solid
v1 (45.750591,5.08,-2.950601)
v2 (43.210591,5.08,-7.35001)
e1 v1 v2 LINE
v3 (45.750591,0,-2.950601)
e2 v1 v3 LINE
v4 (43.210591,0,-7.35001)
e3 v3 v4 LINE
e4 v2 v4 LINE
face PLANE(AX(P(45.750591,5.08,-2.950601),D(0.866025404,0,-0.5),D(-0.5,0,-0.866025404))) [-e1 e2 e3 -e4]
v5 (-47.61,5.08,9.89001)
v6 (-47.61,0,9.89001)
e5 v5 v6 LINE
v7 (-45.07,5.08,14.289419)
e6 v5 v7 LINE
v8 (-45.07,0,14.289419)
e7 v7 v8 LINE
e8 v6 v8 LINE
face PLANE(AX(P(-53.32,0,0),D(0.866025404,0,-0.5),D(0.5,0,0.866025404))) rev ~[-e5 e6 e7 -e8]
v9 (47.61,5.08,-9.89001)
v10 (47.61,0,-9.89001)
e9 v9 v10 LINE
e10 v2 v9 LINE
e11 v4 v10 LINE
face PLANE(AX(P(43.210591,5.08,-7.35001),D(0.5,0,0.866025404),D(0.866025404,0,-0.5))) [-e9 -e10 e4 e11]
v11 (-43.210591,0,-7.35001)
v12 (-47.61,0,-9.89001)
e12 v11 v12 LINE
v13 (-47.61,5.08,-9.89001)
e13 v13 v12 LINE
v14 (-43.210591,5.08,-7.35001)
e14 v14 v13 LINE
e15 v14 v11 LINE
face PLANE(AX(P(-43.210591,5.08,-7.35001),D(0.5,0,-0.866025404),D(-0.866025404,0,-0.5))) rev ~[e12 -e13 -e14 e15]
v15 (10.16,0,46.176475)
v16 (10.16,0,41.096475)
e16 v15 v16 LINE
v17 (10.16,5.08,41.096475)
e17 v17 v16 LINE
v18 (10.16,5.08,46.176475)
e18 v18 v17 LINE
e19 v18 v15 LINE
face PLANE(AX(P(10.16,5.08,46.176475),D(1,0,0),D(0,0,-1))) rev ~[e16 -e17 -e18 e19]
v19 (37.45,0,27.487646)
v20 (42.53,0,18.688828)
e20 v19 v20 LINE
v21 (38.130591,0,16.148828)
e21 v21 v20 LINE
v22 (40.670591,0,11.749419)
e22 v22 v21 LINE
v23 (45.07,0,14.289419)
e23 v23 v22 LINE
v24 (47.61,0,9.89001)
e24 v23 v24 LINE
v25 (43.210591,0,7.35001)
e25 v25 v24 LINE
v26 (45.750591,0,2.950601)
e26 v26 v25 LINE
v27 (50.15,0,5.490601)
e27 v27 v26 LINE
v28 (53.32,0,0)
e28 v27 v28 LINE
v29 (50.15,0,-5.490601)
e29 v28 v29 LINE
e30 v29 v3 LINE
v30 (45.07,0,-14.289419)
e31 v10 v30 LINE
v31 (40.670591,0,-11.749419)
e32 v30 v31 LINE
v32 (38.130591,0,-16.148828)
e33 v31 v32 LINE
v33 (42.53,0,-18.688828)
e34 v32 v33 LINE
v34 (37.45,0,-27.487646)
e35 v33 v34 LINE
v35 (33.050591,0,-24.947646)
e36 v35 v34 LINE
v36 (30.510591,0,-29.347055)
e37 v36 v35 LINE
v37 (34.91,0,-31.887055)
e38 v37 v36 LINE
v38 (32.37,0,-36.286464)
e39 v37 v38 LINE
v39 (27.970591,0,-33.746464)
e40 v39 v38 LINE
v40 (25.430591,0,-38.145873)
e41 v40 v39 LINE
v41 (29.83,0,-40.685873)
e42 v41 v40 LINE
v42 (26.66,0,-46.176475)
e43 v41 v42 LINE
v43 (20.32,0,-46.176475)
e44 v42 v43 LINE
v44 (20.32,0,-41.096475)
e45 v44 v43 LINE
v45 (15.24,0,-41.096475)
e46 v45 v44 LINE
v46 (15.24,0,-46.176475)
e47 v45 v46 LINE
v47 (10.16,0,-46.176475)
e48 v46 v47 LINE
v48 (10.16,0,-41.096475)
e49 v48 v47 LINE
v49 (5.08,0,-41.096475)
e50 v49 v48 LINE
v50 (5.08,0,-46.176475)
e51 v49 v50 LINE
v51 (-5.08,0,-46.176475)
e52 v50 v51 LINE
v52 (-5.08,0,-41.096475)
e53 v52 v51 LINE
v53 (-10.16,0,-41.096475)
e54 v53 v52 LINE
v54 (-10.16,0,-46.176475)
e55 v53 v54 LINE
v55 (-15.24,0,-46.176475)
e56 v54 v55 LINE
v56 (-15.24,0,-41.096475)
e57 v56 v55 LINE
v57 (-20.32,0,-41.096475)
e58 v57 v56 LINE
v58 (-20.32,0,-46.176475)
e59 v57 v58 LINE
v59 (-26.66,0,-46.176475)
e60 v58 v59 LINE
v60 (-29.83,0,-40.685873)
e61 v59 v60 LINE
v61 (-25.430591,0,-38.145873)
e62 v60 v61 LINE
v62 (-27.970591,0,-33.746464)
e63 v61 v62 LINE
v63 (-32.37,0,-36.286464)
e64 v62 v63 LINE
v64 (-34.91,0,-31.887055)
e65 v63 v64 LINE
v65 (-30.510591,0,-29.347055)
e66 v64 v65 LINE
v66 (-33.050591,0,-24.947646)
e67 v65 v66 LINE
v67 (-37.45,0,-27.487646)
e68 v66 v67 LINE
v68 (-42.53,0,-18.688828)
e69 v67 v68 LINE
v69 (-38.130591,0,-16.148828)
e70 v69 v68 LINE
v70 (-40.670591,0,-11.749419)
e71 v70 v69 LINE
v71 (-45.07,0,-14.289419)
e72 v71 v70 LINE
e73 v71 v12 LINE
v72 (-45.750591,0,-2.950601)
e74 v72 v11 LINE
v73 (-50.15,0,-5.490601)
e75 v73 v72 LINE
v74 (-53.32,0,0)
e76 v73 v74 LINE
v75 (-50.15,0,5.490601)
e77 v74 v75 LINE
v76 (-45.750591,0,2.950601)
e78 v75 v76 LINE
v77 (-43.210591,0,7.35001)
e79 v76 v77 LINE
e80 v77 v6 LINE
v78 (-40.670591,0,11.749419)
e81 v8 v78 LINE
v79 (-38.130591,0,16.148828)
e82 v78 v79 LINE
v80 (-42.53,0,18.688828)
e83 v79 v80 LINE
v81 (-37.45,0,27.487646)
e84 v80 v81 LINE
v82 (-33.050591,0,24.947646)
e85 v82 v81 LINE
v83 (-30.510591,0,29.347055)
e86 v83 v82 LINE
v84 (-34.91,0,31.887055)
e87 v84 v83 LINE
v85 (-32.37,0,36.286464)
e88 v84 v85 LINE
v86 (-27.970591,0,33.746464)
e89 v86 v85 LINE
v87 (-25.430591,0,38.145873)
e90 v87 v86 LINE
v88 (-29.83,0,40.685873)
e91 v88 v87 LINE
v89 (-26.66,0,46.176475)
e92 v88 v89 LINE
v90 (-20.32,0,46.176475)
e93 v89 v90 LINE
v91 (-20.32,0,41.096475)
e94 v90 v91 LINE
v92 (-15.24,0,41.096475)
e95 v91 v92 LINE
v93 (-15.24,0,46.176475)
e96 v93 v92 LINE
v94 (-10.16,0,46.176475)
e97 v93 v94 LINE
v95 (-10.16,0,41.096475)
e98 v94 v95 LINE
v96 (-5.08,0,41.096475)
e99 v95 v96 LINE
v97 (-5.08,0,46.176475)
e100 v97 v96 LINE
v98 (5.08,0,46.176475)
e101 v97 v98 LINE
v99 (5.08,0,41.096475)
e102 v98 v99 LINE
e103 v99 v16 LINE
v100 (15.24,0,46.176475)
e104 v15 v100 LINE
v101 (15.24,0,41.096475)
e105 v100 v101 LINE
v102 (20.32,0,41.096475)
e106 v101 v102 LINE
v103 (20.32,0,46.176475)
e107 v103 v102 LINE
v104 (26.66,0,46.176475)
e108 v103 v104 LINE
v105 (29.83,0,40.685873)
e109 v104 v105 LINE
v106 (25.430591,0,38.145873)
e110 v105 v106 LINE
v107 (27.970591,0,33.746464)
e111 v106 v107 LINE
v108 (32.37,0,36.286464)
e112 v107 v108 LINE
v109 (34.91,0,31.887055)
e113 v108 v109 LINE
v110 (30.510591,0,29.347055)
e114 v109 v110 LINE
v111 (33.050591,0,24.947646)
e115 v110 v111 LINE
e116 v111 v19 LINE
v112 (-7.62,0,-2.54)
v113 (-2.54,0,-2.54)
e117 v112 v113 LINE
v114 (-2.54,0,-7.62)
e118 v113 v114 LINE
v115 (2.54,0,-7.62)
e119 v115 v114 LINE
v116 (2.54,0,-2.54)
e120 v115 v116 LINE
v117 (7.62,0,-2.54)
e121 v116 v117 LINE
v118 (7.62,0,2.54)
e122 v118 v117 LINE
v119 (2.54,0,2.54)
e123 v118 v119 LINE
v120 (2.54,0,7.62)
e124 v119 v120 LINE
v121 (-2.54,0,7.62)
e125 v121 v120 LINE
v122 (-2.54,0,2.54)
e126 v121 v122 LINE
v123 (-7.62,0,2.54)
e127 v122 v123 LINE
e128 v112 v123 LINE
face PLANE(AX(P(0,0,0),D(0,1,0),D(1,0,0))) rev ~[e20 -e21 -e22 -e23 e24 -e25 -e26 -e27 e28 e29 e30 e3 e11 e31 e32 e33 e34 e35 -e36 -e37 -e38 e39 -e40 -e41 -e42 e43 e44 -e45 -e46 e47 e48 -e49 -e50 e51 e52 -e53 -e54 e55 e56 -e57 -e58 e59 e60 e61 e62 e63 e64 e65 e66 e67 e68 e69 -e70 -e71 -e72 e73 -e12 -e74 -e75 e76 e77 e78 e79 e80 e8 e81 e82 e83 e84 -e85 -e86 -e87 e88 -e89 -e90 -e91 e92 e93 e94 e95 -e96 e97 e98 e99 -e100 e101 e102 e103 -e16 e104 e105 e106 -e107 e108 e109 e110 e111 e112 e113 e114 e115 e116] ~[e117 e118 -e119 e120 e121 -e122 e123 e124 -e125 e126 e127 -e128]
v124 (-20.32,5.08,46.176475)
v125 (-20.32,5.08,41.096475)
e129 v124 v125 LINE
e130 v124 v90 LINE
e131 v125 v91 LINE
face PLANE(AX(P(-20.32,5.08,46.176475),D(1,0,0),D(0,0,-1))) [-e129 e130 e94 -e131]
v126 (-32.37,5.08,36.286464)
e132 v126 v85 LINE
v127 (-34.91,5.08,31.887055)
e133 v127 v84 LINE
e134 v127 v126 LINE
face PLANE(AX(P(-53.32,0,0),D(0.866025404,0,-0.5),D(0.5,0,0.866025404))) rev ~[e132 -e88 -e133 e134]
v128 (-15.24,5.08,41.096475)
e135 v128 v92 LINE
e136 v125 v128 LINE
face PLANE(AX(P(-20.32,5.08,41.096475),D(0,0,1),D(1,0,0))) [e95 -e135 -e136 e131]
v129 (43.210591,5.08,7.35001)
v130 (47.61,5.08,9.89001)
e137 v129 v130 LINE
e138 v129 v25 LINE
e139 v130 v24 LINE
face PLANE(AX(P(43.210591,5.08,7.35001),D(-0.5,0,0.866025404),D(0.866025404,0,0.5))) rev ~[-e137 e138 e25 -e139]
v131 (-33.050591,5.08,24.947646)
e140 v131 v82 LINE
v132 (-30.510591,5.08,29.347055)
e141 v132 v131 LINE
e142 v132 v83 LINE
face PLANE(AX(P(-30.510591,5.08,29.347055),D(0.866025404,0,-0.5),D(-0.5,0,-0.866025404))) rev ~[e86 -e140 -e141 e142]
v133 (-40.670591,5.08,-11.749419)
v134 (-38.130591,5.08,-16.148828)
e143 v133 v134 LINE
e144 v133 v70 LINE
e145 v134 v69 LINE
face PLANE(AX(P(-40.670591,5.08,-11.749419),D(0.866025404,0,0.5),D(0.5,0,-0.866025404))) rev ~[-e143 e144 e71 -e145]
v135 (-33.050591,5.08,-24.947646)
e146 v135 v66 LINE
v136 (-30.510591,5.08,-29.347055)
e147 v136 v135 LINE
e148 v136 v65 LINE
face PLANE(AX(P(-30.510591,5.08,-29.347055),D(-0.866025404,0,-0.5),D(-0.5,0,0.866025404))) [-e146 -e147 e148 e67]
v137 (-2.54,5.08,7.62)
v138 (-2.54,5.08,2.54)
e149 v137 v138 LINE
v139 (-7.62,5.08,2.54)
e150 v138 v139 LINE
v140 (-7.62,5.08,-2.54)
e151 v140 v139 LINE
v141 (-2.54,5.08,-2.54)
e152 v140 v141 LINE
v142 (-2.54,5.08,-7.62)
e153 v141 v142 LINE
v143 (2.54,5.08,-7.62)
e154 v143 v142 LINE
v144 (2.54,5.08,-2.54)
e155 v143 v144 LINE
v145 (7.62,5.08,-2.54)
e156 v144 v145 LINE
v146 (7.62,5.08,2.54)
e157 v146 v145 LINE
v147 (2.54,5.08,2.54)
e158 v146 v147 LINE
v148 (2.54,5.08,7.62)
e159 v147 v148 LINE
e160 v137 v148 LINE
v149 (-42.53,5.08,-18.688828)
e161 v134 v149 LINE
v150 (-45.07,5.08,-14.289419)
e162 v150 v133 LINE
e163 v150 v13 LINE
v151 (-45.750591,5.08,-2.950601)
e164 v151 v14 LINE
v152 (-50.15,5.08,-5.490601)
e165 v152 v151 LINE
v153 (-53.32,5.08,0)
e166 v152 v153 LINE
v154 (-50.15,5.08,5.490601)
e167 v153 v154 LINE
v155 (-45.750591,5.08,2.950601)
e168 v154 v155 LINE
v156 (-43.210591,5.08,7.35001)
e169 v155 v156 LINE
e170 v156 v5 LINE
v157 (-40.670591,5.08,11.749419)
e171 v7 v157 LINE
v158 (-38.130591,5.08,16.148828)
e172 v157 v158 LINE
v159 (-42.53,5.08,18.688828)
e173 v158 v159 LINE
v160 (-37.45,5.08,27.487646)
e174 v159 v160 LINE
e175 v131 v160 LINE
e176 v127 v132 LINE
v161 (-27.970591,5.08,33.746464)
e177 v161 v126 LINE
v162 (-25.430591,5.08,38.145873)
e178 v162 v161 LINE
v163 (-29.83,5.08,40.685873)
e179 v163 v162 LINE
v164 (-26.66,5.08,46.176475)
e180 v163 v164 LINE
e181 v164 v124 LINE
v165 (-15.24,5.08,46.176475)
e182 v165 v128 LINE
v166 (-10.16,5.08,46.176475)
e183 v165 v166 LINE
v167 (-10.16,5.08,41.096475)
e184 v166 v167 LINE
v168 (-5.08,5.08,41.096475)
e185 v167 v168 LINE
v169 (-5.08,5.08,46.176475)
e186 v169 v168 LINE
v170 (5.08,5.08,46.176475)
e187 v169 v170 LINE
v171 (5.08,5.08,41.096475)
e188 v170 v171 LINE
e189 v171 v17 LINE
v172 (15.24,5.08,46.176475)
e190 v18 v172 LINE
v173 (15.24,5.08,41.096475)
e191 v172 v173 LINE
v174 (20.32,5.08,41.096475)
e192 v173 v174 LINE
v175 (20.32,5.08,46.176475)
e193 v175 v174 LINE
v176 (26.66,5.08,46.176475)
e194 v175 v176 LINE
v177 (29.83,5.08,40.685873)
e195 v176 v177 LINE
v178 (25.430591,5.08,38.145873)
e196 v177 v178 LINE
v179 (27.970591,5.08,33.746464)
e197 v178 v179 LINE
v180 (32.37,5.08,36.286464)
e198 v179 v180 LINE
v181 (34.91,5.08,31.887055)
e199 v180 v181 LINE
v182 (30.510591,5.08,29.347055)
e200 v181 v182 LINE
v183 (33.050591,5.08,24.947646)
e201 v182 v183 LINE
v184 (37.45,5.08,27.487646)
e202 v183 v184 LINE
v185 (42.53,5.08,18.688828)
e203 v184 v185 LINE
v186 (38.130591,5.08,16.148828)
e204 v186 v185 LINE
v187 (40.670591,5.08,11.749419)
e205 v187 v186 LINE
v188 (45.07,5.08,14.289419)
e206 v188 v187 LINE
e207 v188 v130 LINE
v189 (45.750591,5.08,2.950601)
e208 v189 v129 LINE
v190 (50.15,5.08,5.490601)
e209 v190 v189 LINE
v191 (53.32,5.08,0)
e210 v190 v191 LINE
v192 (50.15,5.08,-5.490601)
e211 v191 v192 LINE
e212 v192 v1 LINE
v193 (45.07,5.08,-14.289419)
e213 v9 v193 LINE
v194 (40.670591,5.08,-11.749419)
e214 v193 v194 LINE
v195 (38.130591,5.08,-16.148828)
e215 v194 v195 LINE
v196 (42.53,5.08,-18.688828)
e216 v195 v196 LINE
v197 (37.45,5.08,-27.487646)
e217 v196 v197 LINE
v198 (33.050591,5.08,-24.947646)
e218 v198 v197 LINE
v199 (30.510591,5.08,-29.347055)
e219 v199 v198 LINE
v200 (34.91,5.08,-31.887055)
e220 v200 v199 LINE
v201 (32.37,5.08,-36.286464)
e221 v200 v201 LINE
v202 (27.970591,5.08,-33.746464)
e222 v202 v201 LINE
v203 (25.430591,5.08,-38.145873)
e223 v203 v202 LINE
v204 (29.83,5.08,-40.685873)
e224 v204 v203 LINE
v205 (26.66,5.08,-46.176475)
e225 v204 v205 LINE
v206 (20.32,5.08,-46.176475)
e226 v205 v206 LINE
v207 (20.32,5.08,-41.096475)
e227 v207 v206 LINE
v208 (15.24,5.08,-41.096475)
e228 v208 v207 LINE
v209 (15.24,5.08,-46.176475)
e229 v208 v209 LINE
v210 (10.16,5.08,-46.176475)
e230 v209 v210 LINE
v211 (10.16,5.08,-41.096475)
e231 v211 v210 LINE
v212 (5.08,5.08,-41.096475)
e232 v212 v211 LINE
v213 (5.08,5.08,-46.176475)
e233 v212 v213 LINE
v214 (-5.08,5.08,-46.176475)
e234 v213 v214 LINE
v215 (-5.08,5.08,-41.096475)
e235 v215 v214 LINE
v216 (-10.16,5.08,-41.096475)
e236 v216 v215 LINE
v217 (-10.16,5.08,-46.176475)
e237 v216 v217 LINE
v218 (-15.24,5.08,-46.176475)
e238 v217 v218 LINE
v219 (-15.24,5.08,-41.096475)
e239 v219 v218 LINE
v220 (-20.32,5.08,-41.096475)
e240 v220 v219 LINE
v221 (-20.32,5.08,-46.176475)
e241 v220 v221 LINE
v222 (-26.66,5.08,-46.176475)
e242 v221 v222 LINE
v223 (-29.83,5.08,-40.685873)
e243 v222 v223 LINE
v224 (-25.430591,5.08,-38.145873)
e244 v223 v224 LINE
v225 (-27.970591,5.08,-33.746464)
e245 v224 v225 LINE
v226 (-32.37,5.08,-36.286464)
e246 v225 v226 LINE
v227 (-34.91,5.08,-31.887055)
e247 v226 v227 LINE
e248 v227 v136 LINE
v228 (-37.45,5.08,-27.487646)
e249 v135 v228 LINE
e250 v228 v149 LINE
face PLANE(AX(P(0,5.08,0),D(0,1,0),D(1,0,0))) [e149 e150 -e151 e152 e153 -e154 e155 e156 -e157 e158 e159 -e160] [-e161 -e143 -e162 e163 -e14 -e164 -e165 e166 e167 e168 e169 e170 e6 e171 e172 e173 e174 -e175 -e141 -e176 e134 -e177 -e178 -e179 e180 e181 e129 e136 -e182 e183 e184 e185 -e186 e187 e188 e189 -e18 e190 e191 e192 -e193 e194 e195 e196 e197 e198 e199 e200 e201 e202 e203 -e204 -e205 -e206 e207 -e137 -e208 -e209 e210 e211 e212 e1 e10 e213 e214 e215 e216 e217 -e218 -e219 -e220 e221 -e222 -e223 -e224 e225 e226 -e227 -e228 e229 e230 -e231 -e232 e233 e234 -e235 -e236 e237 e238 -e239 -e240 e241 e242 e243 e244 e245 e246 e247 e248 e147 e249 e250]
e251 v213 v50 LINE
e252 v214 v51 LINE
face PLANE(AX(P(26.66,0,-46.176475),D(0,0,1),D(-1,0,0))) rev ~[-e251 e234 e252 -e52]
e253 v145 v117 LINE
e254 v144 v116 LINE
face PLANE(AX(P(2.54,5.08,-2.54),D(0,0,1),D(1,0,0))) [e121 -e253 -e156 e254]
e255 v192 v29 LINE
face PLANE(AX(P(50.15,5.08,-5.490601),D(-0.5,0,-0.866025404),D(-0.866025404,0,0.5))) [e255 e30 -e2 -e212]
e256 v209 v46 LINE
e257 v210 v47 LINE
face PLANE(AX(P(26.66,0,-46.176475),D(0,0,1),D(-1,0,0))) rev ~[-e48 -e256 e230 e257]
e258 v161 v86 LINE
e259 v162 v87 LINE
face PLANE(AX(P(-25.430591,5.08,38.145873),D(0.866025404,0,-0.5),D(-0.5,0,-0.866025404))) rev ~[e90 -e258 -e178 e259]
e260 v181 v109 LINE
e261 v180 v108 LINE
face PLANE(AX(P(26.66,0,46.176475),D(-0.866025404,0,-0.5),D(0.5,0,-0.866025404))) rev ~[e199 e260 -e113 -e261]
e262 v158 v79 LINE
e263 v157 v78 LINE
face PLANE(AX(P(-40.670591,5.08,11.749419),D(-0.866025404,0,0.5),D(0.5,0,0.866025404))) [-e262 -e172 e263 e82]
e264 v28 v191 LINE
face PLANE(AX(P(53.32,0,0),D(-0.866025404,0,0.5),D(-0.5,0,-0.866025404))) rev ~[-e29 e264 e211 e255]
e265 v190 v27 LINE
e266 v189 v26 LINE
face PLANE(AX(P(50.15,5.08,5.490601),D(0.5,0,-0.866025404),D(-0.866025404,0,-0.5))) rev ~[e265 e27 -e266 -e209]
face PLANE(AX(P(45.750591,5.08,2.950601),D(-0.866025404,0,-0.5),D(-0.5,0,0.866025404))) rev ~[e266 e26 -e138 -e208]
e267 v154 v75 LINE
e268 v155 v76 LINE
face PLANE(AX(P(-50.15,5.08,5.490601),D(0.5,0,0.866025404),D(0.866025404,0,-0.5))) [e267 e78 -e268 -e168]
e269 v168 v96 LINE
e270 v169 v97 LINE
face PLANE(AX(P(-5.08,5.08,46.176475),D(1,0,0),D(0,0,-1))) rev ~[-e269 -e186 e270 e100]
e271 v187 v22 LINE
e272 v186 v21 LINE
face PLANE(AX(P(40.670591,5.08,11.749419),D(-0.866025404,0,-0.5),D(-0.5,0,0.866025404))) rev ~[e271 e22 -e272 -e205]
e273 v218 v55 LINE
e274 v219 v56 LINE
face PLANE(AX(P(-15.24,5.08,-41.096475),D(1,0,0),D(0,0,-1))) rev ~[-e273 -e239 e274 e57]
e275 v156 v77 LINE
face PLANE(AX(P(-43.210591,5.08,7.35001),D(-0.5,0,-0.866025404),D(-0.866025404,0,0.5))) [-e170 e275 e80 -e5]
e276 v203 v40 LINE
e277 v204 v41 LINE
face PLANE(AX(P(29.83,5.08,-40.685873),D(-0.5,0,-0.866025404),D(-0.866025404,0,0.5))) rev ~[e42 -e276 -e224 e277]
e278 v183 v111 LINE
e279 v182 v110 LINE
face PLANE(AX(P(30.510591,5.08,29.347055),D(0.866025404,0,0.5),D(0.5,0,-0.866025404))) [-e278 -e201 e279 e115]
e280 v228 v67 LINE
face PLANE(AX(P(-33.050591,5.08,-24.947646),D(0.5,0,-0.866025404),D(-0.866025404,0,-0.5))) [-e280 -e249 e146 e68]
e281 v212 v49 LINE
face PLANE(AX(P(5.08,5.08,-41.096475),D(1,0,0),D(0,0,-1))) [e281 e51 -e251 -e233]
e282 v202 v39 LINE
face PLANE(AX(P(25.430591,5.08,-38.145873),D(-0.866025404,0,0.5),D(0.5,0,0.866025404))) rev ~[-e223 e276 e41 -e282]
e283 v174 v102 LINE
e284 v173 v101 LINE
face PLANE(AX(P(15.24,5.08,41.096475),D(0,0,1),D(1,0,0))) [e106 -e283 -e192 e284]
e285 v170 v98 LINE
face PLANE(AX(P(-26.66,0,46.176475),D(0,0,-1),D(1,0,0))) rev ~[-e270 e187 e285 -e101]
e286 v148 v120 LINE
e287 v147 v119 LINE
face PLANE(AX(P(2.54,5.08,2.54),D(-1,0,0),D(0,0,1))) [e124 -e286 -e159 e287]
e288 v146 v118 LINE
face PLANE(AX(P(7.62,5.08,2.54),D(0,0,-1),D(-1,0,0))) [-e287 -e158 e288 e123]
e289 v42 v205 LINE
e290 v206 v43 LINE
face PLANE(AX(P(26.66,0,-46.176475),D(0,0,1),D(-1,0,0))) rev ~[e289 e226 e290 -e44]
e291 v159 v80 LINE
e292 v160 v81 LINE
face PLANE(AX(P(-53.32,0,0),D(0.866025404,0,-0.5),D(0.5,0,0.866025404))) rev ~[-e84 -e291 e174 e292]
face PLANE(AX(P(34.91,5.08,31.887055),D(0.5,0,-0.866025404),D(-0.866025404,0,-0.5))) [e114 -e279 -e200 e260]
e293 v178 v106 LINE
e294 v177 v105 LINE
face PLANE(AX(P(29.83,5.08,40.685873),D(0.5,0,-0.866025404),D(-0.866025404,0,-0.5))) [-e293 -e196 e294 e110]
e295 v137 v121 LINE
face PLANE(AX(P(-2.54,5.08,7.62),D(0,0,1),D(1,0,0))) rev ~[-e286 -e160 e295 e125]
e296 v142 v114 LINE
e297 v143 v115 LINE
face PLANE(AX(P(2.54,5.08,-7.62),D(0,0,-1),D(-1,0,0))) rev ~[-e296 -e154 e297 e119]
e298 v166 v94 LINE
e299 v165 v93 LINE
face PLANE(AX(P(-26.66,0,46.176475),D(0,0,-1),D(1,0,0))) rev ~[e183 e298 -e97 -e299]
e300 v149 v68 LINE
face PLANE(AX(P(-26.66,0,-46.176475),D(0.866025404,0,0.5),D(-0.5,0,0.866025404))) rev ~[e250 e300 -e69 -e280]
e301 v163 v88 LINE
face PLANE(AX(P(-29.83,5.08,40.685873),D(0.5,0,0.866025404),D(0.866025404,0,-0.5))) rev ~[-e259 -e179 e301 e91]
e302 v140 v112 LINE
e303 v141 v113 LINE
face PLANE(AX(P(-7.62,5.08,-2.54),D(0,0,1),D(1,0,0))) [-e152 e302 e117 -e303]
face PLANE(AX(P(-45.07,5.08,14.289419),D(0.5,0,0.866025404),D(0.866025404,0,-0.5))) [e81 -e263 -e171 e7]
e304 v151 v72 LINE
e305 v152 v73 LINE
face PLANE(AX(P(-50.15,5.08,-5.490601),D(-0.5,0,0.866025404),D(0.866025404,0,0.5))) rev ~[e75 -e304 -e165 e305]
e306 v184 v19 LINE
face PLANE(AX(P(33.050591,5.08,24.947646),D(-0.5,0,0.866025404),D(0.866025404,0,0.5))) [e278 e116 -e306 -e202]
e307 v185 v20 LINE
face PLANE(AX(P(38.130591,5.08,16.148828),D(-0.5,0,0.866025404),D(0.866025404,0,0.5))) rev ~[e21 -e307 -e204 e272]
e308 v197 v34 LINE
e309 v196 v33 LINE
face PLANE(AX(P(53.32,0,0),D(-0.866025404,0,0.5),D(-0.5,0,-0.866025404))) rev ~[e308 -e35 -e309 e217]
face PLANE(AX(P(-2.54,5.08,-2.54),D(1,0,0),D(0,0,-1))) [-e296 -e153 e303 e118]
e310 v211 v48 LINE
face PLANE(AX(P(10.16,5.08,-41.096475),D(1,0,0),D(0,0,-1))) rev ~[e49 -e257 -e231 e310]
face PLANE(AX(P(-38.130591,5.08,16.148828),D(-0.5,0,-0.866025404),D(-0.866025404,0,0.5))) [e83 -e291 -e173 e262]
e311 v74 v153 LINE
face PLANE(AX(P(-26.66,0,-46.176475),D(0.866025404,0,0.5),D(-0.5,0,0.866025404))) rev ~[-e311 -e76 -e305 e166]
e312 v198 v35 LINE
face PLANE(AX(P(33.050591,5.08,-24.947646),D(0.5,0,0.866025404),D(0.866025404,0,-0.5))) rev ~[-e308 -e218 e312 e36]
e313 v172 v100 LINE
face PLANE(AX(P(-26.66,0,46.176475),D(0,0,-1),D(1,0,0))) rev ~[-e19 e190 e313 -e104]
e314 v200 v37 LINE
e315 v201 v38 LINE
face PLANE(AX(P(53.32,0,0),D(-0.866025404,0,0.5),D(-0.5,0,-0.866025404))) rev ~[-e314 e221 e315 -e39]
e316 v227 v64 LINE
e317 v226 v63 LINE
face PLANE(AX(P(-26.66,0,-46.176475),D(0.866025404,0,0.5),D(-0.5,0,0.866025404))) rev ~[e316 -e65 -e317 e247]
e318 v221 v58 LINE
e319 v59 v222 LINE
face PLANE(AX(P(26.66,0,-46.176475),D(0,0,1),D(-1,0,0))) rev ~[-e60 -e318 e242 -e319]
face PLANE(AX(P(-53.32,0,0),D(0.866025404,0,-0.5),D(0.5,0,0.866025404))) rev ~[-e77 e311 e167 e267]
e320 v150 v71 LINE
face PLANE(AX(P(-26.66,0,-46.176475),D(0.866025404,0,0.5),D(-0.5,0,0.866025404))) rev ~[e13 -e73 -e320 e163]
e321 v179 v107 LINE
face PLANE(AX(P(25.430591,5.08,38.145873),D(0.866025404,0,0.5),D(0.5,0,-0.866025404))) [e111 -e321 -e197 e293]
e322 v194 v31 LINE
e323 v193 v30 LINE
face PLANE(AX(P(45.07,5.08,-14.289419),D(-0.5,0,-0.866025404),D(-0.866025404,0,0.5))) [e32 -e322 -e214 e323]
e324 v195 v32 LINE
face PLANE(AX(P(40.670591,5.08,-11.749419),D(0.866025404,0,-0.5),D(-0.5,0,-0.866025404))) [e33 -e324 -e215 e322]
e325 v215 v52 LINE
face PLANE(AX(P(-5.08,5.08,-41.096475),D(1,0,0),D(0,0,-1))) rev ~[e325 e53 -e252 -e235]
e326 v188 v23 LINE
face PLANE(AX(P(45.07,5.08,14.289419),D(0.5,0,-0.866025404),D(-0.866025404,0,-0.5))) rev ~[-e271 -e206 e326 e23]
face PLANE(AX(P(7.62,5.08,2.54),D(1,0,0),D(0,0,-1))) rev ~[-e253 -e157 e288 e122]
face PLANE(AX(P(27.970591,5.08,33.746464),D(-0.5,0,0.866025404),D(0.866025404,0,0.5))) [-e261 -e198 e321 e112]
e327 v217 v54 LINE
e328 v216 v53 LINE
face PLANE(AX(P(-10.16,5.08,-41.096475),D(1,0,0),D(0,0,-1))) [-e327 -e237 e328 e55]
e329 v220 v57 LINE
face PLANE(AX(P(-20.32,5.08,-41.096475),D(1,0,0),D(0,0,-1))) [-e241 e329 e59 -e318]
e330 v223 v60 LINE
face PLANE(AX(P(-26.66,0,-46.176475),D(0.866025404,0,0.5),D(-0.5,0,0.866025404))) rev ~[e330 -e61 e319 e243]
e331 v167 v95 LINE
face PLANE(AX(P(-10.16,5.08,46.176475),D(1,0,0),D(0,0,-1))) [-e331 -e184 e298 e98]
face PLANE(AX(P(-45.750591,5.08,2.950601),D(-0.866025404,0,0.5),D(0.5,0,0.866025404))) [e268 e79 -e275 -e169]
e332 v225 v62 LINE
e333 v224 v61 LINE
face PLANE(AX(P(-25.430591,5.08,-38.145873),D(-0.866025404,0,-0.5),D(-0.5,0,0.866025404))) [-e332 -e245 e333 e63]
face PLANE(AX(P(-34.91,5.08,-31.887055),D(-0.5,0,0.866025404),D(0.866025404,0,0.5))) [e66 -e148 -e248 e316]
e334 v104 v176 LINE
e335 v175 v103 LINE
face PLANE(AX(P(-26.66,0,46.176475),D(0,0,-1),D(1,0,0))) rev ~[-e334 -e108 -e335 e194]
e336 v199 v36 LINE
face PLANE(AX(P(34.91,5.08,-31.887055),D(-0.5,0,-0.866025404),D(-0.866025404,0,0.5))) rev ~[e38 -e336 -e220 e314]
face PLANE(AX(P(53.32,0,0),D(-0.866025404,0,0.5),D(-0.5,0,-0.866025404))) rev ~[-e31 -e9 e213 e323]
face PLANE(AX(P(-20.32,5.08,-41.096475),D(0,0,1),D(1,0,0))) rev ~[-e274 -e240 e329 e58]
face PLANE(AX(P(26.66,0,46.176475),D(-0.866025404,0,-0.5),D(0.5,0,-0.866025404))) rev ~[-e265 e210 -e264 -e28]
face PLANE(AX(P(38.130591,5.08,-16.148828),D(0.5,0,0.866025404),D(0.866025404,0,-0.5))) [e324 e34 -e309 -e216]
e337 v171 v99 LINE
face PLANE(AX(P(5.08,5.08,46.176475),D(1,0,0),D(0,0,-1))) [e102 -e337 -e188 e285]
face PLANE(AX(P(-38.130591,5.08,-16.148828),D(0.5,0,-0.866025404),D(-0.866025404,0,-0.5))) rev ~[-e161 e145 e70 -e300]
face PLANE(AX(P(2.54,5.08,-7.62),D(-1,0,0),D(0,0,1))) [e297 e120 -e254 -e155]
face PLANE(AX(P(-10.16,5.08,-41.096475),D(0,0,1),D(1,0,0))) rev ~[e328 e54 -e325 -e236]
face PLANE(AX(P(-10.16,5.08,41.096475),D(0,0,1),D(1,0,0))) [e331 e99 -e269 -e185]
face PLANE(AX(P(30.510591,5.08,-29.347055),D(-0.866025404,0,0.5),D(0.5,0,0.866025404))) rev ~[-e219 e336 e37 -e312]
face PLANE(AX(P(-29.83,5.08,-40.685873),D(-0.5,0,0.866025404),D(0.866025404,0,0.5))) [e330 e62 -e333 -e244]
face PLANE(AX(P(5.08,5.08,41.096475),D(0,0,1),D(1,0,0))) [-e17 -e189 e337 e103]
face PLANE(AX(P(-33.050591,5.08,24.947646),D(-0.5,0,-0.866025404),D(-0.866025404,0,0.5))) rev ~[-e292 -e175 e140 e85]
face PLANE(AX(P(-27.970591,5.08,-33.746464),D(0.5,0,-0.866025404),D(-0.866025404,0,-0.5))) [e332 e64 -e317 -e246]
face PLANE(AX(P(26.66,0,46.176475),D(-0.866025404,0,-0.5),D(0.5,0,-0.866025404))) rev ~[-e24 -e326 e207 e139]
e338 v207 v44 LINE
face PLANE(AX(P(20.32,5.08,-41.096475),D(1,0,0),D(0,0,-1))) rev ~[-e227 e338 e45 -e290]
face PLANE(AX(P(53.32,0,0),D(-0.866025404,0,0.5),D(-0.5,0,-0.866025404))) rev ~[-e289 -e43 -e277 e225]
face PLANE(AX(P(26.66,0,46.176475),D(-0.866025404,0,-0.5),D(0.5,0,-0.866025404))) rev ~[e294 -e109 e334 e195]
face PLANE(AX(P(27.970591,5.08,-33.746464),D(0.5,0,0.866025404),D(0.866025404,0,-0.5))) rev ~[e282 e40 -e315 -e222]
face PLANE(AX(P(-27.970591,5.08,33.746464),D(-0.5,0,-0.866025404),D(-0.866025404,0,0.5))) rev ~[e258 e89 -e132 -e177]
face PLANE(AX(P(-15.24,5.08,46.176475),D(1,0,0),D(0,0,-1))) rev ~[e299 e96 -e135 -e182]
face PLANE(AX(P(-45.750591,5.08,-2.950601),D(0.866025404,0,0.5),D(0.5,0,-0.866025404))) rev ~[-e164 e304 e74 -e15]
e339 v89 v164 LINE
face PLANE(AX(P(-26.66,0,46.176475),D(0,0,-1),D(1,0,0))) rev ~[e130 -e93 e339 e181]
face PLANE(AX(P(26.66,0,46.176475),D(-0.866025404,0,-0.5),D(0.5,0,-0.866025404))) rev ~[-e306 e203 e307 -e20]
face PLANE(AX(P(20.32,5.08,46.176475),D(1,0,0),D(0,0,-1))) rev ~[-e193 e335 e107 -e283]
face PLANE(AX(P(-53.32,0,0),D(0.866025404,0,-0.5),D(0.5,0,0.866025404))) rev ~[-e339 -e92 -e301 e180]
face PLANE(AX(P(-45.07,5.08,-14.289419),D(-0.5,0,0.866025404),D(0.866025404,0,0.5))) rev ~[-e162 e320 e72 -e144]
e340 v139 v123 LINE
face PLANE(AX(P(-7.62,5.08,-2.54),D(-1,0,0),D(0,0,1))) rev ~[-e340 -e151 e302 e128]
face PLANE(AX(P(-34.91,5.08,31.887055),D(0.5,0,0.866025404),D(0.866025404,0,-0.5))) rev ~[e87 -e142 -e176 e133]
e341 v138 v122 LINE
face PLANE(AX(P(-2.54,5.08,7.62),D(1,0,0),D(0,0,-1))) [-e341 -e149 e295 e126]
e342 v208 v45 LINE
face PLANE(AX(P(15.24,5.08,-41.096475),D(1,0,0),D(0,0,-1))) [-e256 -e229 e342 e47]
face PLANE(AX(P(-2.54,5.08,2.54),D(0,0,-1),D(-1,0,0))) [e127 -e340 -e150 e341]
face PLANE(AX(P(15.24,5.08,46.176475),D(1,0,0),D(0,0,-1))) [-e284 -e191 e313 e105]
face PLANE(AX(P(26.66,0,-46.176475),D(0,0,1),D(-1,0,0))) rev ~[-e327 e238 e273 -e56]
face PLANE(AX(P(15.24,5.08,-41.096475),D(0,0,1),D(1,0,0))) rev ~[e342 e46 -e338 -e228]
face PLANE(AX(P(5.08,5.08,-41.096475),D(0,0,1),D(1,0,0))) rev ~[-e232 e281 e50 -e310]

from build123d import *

# Parameters (mm, degrees)
BOSS_EXTRUDE1_DEPTH = 5.08
SKETCH3_W           = 5.08
SKETCH3_H           = 5.08
CUT_EXTRUDE1_DEPTH  = 5.08
CUT_EXTRUDE2_DEPTH  = 5.08


with BuildPart() as part:
    # Sketch1 → Boss-Extrude1 (new body)
    with BuildSketch(Plane(origin=(0, 0, 0), x_dir=(1, 0, 0), z_dir=(0, 1, 0))):
        Polygon((53.32, 0), (26.66, 46.17647453), (-26.66, 46.17647453), (-53.32, 0), (-26.66, -46.17647453), (26.66, -46.17647453), align=None)
    extrude(amount=BOSS_EXTRUDE1_DEPTH)

    # Sketch3 → Cut-Extrude1 (cut)
    with BuildSketch(Plane(origin=(0, 5.08, 0), x_dir=(1, 0, 0), z_dir=(0, 1, 0))):
        with Locations((-17.78, 43.63647453)):
            Rectangle(SKETCH3_W, SKETCH3_H)
        with Locations((7.62, 43.63647453)):
            Rectangle(SKETCH3_W, SKETCH3_H)
        with Locations((17.78, 43.63647453)):
            Rectangle(SKETCH3_W, SKETCH3_H)
        with Locations((-7.62, 43.63647453)):
            Rectangle(SKETCH3_W, SKETCH3_H)
        Polygon((29.83, 40.68587347), (25.430590949, 38.14587347), (27.970590949, 33.746464419), (32.37, 36.286464419), align=None)
        Polygon((42.53, 18.688828214), (45.07, 14.289419162), (40.670590949, 11.749419162), (38.130590949, 16.148828214), align=None)
        Polygon((47.61, 9.890010111), (50.15, 5.49060106), (45.750590949, 2.95060106), (43.210590949, 7.350010111), align=None)
        Polygon((34.91, 31.887055367), (30.510590949, 29.347055367), (33.050590949, 24.947646316), (37.45, 27.487646316), align=None)
        Polygon((50.15, -5.49060106), (45.750590949, -2.95060106), (43.210590949, -7.350010111), (47.61, -9.890010111), align=None)
        Polygon((37.45, -27.487646316), (34.91, -31.887055367), (30.510590949, -29.347055367), (33.050590949, -24.947646316), align=None)
        Polygon((32.37, -36.286464419), (29.83, -40.68587347), (25.430590949, -38.14587347), (27.970590949, -33.746464419), align=None)
        Polygon((45.07, -14.289419162), (40.670590949, -11.749419162), (38.130590949, -16.148828214), (42.53, -18.688828214), align=None)
        with Locations((17.78, -43.63647453)):
            Rectangle(SKETCH3_W, SKETCH3_H)
        with Locations((-7.62, -43.63647453)):
            Rectangle(SKETCH3_W, SKETCH3_H)
        with Locations((-17.78, -43.63647453)):
            Rectangle(SKETCH3_W, SKETCH3_H)
        with Locations((7.62, -43.63647453)):
            Rectangle(SKETCH3_W, SKETCH3_H)
        Polygon((-29.83, -40.68587347), (-25.430590949, -38.14587347), (-27.970590949, -33.746464419), (-32.37, -36.286464419), align=None)
        Polygon((-42.53, -18.688828214), (-45.07, -14.289419162), (-40.670590949, -11.749419162), (-38.130590949, -16.148828214), align=None)
        Polygon((-47.61, -9.890010111), (-50.15, -5.49060106), (-45.750590949, -2.95060106), (-43.210590949, -7.350010111), align=None)
        Polygon((-34.91, -31.887055367), (-30.510590949, -29.347055367), (-33.050590949, -24.947646316), (-37.45, -27.487646316), align=None)
        Polygon((-50.15, 5.49060106), (-45.750590949, 2.95060106), (-43.210590949, 7.350010111), (-47.61, 9.890010111), align=None)
        Polygon((-37.45, 27.487646316), (-34.91, 31.887055367), (-30.510590949, 29.347055367), (-33.050590949, 24.947646316), align=None)
        Polygon((-32.37, 36.286464419), (-29.83, 40.68587347), (-25.430590949, 38.14587347), (-27.970590949, 33.746464419), align=None)
        Polygon((-45.07, 14.289419162), (-40.670590949, 11.749419162), (-38.130590949, 16.148828214), (-42.53, 18.688828214), align=None)
    extrude(amount=-CUT_EXTRUDE1_DEPTH, mode=Mode.SUBTRACT)

    # Sketch4 → Cut-Extrude2 (cut)
    with BuildSketch(Plane(origin=(0, 5.08, 0), x_dir=(1, 0, 0), z_dir=(0, 1, 0))):
        Polygon((0, 7.62), (2.54, 7.62), (2.54, 2.54), (7.62, 2.54), (7.62, 0), (7.62, -2.54), (2.54, -2.54), (2.54, -7.62), (0, -7.62), (-2.54, -7.62), (-2.54, -2.54), (-7.62, -2.54), (-7.62, 0), (-7.62, 2.54), (-2.54, 2.54), (-2.54, 7.62), align=None)
    extrude(amount=-CUT_EXTRUDE2_DEPTH, mode=Mode.SUBTRACT)


solid = part.part
